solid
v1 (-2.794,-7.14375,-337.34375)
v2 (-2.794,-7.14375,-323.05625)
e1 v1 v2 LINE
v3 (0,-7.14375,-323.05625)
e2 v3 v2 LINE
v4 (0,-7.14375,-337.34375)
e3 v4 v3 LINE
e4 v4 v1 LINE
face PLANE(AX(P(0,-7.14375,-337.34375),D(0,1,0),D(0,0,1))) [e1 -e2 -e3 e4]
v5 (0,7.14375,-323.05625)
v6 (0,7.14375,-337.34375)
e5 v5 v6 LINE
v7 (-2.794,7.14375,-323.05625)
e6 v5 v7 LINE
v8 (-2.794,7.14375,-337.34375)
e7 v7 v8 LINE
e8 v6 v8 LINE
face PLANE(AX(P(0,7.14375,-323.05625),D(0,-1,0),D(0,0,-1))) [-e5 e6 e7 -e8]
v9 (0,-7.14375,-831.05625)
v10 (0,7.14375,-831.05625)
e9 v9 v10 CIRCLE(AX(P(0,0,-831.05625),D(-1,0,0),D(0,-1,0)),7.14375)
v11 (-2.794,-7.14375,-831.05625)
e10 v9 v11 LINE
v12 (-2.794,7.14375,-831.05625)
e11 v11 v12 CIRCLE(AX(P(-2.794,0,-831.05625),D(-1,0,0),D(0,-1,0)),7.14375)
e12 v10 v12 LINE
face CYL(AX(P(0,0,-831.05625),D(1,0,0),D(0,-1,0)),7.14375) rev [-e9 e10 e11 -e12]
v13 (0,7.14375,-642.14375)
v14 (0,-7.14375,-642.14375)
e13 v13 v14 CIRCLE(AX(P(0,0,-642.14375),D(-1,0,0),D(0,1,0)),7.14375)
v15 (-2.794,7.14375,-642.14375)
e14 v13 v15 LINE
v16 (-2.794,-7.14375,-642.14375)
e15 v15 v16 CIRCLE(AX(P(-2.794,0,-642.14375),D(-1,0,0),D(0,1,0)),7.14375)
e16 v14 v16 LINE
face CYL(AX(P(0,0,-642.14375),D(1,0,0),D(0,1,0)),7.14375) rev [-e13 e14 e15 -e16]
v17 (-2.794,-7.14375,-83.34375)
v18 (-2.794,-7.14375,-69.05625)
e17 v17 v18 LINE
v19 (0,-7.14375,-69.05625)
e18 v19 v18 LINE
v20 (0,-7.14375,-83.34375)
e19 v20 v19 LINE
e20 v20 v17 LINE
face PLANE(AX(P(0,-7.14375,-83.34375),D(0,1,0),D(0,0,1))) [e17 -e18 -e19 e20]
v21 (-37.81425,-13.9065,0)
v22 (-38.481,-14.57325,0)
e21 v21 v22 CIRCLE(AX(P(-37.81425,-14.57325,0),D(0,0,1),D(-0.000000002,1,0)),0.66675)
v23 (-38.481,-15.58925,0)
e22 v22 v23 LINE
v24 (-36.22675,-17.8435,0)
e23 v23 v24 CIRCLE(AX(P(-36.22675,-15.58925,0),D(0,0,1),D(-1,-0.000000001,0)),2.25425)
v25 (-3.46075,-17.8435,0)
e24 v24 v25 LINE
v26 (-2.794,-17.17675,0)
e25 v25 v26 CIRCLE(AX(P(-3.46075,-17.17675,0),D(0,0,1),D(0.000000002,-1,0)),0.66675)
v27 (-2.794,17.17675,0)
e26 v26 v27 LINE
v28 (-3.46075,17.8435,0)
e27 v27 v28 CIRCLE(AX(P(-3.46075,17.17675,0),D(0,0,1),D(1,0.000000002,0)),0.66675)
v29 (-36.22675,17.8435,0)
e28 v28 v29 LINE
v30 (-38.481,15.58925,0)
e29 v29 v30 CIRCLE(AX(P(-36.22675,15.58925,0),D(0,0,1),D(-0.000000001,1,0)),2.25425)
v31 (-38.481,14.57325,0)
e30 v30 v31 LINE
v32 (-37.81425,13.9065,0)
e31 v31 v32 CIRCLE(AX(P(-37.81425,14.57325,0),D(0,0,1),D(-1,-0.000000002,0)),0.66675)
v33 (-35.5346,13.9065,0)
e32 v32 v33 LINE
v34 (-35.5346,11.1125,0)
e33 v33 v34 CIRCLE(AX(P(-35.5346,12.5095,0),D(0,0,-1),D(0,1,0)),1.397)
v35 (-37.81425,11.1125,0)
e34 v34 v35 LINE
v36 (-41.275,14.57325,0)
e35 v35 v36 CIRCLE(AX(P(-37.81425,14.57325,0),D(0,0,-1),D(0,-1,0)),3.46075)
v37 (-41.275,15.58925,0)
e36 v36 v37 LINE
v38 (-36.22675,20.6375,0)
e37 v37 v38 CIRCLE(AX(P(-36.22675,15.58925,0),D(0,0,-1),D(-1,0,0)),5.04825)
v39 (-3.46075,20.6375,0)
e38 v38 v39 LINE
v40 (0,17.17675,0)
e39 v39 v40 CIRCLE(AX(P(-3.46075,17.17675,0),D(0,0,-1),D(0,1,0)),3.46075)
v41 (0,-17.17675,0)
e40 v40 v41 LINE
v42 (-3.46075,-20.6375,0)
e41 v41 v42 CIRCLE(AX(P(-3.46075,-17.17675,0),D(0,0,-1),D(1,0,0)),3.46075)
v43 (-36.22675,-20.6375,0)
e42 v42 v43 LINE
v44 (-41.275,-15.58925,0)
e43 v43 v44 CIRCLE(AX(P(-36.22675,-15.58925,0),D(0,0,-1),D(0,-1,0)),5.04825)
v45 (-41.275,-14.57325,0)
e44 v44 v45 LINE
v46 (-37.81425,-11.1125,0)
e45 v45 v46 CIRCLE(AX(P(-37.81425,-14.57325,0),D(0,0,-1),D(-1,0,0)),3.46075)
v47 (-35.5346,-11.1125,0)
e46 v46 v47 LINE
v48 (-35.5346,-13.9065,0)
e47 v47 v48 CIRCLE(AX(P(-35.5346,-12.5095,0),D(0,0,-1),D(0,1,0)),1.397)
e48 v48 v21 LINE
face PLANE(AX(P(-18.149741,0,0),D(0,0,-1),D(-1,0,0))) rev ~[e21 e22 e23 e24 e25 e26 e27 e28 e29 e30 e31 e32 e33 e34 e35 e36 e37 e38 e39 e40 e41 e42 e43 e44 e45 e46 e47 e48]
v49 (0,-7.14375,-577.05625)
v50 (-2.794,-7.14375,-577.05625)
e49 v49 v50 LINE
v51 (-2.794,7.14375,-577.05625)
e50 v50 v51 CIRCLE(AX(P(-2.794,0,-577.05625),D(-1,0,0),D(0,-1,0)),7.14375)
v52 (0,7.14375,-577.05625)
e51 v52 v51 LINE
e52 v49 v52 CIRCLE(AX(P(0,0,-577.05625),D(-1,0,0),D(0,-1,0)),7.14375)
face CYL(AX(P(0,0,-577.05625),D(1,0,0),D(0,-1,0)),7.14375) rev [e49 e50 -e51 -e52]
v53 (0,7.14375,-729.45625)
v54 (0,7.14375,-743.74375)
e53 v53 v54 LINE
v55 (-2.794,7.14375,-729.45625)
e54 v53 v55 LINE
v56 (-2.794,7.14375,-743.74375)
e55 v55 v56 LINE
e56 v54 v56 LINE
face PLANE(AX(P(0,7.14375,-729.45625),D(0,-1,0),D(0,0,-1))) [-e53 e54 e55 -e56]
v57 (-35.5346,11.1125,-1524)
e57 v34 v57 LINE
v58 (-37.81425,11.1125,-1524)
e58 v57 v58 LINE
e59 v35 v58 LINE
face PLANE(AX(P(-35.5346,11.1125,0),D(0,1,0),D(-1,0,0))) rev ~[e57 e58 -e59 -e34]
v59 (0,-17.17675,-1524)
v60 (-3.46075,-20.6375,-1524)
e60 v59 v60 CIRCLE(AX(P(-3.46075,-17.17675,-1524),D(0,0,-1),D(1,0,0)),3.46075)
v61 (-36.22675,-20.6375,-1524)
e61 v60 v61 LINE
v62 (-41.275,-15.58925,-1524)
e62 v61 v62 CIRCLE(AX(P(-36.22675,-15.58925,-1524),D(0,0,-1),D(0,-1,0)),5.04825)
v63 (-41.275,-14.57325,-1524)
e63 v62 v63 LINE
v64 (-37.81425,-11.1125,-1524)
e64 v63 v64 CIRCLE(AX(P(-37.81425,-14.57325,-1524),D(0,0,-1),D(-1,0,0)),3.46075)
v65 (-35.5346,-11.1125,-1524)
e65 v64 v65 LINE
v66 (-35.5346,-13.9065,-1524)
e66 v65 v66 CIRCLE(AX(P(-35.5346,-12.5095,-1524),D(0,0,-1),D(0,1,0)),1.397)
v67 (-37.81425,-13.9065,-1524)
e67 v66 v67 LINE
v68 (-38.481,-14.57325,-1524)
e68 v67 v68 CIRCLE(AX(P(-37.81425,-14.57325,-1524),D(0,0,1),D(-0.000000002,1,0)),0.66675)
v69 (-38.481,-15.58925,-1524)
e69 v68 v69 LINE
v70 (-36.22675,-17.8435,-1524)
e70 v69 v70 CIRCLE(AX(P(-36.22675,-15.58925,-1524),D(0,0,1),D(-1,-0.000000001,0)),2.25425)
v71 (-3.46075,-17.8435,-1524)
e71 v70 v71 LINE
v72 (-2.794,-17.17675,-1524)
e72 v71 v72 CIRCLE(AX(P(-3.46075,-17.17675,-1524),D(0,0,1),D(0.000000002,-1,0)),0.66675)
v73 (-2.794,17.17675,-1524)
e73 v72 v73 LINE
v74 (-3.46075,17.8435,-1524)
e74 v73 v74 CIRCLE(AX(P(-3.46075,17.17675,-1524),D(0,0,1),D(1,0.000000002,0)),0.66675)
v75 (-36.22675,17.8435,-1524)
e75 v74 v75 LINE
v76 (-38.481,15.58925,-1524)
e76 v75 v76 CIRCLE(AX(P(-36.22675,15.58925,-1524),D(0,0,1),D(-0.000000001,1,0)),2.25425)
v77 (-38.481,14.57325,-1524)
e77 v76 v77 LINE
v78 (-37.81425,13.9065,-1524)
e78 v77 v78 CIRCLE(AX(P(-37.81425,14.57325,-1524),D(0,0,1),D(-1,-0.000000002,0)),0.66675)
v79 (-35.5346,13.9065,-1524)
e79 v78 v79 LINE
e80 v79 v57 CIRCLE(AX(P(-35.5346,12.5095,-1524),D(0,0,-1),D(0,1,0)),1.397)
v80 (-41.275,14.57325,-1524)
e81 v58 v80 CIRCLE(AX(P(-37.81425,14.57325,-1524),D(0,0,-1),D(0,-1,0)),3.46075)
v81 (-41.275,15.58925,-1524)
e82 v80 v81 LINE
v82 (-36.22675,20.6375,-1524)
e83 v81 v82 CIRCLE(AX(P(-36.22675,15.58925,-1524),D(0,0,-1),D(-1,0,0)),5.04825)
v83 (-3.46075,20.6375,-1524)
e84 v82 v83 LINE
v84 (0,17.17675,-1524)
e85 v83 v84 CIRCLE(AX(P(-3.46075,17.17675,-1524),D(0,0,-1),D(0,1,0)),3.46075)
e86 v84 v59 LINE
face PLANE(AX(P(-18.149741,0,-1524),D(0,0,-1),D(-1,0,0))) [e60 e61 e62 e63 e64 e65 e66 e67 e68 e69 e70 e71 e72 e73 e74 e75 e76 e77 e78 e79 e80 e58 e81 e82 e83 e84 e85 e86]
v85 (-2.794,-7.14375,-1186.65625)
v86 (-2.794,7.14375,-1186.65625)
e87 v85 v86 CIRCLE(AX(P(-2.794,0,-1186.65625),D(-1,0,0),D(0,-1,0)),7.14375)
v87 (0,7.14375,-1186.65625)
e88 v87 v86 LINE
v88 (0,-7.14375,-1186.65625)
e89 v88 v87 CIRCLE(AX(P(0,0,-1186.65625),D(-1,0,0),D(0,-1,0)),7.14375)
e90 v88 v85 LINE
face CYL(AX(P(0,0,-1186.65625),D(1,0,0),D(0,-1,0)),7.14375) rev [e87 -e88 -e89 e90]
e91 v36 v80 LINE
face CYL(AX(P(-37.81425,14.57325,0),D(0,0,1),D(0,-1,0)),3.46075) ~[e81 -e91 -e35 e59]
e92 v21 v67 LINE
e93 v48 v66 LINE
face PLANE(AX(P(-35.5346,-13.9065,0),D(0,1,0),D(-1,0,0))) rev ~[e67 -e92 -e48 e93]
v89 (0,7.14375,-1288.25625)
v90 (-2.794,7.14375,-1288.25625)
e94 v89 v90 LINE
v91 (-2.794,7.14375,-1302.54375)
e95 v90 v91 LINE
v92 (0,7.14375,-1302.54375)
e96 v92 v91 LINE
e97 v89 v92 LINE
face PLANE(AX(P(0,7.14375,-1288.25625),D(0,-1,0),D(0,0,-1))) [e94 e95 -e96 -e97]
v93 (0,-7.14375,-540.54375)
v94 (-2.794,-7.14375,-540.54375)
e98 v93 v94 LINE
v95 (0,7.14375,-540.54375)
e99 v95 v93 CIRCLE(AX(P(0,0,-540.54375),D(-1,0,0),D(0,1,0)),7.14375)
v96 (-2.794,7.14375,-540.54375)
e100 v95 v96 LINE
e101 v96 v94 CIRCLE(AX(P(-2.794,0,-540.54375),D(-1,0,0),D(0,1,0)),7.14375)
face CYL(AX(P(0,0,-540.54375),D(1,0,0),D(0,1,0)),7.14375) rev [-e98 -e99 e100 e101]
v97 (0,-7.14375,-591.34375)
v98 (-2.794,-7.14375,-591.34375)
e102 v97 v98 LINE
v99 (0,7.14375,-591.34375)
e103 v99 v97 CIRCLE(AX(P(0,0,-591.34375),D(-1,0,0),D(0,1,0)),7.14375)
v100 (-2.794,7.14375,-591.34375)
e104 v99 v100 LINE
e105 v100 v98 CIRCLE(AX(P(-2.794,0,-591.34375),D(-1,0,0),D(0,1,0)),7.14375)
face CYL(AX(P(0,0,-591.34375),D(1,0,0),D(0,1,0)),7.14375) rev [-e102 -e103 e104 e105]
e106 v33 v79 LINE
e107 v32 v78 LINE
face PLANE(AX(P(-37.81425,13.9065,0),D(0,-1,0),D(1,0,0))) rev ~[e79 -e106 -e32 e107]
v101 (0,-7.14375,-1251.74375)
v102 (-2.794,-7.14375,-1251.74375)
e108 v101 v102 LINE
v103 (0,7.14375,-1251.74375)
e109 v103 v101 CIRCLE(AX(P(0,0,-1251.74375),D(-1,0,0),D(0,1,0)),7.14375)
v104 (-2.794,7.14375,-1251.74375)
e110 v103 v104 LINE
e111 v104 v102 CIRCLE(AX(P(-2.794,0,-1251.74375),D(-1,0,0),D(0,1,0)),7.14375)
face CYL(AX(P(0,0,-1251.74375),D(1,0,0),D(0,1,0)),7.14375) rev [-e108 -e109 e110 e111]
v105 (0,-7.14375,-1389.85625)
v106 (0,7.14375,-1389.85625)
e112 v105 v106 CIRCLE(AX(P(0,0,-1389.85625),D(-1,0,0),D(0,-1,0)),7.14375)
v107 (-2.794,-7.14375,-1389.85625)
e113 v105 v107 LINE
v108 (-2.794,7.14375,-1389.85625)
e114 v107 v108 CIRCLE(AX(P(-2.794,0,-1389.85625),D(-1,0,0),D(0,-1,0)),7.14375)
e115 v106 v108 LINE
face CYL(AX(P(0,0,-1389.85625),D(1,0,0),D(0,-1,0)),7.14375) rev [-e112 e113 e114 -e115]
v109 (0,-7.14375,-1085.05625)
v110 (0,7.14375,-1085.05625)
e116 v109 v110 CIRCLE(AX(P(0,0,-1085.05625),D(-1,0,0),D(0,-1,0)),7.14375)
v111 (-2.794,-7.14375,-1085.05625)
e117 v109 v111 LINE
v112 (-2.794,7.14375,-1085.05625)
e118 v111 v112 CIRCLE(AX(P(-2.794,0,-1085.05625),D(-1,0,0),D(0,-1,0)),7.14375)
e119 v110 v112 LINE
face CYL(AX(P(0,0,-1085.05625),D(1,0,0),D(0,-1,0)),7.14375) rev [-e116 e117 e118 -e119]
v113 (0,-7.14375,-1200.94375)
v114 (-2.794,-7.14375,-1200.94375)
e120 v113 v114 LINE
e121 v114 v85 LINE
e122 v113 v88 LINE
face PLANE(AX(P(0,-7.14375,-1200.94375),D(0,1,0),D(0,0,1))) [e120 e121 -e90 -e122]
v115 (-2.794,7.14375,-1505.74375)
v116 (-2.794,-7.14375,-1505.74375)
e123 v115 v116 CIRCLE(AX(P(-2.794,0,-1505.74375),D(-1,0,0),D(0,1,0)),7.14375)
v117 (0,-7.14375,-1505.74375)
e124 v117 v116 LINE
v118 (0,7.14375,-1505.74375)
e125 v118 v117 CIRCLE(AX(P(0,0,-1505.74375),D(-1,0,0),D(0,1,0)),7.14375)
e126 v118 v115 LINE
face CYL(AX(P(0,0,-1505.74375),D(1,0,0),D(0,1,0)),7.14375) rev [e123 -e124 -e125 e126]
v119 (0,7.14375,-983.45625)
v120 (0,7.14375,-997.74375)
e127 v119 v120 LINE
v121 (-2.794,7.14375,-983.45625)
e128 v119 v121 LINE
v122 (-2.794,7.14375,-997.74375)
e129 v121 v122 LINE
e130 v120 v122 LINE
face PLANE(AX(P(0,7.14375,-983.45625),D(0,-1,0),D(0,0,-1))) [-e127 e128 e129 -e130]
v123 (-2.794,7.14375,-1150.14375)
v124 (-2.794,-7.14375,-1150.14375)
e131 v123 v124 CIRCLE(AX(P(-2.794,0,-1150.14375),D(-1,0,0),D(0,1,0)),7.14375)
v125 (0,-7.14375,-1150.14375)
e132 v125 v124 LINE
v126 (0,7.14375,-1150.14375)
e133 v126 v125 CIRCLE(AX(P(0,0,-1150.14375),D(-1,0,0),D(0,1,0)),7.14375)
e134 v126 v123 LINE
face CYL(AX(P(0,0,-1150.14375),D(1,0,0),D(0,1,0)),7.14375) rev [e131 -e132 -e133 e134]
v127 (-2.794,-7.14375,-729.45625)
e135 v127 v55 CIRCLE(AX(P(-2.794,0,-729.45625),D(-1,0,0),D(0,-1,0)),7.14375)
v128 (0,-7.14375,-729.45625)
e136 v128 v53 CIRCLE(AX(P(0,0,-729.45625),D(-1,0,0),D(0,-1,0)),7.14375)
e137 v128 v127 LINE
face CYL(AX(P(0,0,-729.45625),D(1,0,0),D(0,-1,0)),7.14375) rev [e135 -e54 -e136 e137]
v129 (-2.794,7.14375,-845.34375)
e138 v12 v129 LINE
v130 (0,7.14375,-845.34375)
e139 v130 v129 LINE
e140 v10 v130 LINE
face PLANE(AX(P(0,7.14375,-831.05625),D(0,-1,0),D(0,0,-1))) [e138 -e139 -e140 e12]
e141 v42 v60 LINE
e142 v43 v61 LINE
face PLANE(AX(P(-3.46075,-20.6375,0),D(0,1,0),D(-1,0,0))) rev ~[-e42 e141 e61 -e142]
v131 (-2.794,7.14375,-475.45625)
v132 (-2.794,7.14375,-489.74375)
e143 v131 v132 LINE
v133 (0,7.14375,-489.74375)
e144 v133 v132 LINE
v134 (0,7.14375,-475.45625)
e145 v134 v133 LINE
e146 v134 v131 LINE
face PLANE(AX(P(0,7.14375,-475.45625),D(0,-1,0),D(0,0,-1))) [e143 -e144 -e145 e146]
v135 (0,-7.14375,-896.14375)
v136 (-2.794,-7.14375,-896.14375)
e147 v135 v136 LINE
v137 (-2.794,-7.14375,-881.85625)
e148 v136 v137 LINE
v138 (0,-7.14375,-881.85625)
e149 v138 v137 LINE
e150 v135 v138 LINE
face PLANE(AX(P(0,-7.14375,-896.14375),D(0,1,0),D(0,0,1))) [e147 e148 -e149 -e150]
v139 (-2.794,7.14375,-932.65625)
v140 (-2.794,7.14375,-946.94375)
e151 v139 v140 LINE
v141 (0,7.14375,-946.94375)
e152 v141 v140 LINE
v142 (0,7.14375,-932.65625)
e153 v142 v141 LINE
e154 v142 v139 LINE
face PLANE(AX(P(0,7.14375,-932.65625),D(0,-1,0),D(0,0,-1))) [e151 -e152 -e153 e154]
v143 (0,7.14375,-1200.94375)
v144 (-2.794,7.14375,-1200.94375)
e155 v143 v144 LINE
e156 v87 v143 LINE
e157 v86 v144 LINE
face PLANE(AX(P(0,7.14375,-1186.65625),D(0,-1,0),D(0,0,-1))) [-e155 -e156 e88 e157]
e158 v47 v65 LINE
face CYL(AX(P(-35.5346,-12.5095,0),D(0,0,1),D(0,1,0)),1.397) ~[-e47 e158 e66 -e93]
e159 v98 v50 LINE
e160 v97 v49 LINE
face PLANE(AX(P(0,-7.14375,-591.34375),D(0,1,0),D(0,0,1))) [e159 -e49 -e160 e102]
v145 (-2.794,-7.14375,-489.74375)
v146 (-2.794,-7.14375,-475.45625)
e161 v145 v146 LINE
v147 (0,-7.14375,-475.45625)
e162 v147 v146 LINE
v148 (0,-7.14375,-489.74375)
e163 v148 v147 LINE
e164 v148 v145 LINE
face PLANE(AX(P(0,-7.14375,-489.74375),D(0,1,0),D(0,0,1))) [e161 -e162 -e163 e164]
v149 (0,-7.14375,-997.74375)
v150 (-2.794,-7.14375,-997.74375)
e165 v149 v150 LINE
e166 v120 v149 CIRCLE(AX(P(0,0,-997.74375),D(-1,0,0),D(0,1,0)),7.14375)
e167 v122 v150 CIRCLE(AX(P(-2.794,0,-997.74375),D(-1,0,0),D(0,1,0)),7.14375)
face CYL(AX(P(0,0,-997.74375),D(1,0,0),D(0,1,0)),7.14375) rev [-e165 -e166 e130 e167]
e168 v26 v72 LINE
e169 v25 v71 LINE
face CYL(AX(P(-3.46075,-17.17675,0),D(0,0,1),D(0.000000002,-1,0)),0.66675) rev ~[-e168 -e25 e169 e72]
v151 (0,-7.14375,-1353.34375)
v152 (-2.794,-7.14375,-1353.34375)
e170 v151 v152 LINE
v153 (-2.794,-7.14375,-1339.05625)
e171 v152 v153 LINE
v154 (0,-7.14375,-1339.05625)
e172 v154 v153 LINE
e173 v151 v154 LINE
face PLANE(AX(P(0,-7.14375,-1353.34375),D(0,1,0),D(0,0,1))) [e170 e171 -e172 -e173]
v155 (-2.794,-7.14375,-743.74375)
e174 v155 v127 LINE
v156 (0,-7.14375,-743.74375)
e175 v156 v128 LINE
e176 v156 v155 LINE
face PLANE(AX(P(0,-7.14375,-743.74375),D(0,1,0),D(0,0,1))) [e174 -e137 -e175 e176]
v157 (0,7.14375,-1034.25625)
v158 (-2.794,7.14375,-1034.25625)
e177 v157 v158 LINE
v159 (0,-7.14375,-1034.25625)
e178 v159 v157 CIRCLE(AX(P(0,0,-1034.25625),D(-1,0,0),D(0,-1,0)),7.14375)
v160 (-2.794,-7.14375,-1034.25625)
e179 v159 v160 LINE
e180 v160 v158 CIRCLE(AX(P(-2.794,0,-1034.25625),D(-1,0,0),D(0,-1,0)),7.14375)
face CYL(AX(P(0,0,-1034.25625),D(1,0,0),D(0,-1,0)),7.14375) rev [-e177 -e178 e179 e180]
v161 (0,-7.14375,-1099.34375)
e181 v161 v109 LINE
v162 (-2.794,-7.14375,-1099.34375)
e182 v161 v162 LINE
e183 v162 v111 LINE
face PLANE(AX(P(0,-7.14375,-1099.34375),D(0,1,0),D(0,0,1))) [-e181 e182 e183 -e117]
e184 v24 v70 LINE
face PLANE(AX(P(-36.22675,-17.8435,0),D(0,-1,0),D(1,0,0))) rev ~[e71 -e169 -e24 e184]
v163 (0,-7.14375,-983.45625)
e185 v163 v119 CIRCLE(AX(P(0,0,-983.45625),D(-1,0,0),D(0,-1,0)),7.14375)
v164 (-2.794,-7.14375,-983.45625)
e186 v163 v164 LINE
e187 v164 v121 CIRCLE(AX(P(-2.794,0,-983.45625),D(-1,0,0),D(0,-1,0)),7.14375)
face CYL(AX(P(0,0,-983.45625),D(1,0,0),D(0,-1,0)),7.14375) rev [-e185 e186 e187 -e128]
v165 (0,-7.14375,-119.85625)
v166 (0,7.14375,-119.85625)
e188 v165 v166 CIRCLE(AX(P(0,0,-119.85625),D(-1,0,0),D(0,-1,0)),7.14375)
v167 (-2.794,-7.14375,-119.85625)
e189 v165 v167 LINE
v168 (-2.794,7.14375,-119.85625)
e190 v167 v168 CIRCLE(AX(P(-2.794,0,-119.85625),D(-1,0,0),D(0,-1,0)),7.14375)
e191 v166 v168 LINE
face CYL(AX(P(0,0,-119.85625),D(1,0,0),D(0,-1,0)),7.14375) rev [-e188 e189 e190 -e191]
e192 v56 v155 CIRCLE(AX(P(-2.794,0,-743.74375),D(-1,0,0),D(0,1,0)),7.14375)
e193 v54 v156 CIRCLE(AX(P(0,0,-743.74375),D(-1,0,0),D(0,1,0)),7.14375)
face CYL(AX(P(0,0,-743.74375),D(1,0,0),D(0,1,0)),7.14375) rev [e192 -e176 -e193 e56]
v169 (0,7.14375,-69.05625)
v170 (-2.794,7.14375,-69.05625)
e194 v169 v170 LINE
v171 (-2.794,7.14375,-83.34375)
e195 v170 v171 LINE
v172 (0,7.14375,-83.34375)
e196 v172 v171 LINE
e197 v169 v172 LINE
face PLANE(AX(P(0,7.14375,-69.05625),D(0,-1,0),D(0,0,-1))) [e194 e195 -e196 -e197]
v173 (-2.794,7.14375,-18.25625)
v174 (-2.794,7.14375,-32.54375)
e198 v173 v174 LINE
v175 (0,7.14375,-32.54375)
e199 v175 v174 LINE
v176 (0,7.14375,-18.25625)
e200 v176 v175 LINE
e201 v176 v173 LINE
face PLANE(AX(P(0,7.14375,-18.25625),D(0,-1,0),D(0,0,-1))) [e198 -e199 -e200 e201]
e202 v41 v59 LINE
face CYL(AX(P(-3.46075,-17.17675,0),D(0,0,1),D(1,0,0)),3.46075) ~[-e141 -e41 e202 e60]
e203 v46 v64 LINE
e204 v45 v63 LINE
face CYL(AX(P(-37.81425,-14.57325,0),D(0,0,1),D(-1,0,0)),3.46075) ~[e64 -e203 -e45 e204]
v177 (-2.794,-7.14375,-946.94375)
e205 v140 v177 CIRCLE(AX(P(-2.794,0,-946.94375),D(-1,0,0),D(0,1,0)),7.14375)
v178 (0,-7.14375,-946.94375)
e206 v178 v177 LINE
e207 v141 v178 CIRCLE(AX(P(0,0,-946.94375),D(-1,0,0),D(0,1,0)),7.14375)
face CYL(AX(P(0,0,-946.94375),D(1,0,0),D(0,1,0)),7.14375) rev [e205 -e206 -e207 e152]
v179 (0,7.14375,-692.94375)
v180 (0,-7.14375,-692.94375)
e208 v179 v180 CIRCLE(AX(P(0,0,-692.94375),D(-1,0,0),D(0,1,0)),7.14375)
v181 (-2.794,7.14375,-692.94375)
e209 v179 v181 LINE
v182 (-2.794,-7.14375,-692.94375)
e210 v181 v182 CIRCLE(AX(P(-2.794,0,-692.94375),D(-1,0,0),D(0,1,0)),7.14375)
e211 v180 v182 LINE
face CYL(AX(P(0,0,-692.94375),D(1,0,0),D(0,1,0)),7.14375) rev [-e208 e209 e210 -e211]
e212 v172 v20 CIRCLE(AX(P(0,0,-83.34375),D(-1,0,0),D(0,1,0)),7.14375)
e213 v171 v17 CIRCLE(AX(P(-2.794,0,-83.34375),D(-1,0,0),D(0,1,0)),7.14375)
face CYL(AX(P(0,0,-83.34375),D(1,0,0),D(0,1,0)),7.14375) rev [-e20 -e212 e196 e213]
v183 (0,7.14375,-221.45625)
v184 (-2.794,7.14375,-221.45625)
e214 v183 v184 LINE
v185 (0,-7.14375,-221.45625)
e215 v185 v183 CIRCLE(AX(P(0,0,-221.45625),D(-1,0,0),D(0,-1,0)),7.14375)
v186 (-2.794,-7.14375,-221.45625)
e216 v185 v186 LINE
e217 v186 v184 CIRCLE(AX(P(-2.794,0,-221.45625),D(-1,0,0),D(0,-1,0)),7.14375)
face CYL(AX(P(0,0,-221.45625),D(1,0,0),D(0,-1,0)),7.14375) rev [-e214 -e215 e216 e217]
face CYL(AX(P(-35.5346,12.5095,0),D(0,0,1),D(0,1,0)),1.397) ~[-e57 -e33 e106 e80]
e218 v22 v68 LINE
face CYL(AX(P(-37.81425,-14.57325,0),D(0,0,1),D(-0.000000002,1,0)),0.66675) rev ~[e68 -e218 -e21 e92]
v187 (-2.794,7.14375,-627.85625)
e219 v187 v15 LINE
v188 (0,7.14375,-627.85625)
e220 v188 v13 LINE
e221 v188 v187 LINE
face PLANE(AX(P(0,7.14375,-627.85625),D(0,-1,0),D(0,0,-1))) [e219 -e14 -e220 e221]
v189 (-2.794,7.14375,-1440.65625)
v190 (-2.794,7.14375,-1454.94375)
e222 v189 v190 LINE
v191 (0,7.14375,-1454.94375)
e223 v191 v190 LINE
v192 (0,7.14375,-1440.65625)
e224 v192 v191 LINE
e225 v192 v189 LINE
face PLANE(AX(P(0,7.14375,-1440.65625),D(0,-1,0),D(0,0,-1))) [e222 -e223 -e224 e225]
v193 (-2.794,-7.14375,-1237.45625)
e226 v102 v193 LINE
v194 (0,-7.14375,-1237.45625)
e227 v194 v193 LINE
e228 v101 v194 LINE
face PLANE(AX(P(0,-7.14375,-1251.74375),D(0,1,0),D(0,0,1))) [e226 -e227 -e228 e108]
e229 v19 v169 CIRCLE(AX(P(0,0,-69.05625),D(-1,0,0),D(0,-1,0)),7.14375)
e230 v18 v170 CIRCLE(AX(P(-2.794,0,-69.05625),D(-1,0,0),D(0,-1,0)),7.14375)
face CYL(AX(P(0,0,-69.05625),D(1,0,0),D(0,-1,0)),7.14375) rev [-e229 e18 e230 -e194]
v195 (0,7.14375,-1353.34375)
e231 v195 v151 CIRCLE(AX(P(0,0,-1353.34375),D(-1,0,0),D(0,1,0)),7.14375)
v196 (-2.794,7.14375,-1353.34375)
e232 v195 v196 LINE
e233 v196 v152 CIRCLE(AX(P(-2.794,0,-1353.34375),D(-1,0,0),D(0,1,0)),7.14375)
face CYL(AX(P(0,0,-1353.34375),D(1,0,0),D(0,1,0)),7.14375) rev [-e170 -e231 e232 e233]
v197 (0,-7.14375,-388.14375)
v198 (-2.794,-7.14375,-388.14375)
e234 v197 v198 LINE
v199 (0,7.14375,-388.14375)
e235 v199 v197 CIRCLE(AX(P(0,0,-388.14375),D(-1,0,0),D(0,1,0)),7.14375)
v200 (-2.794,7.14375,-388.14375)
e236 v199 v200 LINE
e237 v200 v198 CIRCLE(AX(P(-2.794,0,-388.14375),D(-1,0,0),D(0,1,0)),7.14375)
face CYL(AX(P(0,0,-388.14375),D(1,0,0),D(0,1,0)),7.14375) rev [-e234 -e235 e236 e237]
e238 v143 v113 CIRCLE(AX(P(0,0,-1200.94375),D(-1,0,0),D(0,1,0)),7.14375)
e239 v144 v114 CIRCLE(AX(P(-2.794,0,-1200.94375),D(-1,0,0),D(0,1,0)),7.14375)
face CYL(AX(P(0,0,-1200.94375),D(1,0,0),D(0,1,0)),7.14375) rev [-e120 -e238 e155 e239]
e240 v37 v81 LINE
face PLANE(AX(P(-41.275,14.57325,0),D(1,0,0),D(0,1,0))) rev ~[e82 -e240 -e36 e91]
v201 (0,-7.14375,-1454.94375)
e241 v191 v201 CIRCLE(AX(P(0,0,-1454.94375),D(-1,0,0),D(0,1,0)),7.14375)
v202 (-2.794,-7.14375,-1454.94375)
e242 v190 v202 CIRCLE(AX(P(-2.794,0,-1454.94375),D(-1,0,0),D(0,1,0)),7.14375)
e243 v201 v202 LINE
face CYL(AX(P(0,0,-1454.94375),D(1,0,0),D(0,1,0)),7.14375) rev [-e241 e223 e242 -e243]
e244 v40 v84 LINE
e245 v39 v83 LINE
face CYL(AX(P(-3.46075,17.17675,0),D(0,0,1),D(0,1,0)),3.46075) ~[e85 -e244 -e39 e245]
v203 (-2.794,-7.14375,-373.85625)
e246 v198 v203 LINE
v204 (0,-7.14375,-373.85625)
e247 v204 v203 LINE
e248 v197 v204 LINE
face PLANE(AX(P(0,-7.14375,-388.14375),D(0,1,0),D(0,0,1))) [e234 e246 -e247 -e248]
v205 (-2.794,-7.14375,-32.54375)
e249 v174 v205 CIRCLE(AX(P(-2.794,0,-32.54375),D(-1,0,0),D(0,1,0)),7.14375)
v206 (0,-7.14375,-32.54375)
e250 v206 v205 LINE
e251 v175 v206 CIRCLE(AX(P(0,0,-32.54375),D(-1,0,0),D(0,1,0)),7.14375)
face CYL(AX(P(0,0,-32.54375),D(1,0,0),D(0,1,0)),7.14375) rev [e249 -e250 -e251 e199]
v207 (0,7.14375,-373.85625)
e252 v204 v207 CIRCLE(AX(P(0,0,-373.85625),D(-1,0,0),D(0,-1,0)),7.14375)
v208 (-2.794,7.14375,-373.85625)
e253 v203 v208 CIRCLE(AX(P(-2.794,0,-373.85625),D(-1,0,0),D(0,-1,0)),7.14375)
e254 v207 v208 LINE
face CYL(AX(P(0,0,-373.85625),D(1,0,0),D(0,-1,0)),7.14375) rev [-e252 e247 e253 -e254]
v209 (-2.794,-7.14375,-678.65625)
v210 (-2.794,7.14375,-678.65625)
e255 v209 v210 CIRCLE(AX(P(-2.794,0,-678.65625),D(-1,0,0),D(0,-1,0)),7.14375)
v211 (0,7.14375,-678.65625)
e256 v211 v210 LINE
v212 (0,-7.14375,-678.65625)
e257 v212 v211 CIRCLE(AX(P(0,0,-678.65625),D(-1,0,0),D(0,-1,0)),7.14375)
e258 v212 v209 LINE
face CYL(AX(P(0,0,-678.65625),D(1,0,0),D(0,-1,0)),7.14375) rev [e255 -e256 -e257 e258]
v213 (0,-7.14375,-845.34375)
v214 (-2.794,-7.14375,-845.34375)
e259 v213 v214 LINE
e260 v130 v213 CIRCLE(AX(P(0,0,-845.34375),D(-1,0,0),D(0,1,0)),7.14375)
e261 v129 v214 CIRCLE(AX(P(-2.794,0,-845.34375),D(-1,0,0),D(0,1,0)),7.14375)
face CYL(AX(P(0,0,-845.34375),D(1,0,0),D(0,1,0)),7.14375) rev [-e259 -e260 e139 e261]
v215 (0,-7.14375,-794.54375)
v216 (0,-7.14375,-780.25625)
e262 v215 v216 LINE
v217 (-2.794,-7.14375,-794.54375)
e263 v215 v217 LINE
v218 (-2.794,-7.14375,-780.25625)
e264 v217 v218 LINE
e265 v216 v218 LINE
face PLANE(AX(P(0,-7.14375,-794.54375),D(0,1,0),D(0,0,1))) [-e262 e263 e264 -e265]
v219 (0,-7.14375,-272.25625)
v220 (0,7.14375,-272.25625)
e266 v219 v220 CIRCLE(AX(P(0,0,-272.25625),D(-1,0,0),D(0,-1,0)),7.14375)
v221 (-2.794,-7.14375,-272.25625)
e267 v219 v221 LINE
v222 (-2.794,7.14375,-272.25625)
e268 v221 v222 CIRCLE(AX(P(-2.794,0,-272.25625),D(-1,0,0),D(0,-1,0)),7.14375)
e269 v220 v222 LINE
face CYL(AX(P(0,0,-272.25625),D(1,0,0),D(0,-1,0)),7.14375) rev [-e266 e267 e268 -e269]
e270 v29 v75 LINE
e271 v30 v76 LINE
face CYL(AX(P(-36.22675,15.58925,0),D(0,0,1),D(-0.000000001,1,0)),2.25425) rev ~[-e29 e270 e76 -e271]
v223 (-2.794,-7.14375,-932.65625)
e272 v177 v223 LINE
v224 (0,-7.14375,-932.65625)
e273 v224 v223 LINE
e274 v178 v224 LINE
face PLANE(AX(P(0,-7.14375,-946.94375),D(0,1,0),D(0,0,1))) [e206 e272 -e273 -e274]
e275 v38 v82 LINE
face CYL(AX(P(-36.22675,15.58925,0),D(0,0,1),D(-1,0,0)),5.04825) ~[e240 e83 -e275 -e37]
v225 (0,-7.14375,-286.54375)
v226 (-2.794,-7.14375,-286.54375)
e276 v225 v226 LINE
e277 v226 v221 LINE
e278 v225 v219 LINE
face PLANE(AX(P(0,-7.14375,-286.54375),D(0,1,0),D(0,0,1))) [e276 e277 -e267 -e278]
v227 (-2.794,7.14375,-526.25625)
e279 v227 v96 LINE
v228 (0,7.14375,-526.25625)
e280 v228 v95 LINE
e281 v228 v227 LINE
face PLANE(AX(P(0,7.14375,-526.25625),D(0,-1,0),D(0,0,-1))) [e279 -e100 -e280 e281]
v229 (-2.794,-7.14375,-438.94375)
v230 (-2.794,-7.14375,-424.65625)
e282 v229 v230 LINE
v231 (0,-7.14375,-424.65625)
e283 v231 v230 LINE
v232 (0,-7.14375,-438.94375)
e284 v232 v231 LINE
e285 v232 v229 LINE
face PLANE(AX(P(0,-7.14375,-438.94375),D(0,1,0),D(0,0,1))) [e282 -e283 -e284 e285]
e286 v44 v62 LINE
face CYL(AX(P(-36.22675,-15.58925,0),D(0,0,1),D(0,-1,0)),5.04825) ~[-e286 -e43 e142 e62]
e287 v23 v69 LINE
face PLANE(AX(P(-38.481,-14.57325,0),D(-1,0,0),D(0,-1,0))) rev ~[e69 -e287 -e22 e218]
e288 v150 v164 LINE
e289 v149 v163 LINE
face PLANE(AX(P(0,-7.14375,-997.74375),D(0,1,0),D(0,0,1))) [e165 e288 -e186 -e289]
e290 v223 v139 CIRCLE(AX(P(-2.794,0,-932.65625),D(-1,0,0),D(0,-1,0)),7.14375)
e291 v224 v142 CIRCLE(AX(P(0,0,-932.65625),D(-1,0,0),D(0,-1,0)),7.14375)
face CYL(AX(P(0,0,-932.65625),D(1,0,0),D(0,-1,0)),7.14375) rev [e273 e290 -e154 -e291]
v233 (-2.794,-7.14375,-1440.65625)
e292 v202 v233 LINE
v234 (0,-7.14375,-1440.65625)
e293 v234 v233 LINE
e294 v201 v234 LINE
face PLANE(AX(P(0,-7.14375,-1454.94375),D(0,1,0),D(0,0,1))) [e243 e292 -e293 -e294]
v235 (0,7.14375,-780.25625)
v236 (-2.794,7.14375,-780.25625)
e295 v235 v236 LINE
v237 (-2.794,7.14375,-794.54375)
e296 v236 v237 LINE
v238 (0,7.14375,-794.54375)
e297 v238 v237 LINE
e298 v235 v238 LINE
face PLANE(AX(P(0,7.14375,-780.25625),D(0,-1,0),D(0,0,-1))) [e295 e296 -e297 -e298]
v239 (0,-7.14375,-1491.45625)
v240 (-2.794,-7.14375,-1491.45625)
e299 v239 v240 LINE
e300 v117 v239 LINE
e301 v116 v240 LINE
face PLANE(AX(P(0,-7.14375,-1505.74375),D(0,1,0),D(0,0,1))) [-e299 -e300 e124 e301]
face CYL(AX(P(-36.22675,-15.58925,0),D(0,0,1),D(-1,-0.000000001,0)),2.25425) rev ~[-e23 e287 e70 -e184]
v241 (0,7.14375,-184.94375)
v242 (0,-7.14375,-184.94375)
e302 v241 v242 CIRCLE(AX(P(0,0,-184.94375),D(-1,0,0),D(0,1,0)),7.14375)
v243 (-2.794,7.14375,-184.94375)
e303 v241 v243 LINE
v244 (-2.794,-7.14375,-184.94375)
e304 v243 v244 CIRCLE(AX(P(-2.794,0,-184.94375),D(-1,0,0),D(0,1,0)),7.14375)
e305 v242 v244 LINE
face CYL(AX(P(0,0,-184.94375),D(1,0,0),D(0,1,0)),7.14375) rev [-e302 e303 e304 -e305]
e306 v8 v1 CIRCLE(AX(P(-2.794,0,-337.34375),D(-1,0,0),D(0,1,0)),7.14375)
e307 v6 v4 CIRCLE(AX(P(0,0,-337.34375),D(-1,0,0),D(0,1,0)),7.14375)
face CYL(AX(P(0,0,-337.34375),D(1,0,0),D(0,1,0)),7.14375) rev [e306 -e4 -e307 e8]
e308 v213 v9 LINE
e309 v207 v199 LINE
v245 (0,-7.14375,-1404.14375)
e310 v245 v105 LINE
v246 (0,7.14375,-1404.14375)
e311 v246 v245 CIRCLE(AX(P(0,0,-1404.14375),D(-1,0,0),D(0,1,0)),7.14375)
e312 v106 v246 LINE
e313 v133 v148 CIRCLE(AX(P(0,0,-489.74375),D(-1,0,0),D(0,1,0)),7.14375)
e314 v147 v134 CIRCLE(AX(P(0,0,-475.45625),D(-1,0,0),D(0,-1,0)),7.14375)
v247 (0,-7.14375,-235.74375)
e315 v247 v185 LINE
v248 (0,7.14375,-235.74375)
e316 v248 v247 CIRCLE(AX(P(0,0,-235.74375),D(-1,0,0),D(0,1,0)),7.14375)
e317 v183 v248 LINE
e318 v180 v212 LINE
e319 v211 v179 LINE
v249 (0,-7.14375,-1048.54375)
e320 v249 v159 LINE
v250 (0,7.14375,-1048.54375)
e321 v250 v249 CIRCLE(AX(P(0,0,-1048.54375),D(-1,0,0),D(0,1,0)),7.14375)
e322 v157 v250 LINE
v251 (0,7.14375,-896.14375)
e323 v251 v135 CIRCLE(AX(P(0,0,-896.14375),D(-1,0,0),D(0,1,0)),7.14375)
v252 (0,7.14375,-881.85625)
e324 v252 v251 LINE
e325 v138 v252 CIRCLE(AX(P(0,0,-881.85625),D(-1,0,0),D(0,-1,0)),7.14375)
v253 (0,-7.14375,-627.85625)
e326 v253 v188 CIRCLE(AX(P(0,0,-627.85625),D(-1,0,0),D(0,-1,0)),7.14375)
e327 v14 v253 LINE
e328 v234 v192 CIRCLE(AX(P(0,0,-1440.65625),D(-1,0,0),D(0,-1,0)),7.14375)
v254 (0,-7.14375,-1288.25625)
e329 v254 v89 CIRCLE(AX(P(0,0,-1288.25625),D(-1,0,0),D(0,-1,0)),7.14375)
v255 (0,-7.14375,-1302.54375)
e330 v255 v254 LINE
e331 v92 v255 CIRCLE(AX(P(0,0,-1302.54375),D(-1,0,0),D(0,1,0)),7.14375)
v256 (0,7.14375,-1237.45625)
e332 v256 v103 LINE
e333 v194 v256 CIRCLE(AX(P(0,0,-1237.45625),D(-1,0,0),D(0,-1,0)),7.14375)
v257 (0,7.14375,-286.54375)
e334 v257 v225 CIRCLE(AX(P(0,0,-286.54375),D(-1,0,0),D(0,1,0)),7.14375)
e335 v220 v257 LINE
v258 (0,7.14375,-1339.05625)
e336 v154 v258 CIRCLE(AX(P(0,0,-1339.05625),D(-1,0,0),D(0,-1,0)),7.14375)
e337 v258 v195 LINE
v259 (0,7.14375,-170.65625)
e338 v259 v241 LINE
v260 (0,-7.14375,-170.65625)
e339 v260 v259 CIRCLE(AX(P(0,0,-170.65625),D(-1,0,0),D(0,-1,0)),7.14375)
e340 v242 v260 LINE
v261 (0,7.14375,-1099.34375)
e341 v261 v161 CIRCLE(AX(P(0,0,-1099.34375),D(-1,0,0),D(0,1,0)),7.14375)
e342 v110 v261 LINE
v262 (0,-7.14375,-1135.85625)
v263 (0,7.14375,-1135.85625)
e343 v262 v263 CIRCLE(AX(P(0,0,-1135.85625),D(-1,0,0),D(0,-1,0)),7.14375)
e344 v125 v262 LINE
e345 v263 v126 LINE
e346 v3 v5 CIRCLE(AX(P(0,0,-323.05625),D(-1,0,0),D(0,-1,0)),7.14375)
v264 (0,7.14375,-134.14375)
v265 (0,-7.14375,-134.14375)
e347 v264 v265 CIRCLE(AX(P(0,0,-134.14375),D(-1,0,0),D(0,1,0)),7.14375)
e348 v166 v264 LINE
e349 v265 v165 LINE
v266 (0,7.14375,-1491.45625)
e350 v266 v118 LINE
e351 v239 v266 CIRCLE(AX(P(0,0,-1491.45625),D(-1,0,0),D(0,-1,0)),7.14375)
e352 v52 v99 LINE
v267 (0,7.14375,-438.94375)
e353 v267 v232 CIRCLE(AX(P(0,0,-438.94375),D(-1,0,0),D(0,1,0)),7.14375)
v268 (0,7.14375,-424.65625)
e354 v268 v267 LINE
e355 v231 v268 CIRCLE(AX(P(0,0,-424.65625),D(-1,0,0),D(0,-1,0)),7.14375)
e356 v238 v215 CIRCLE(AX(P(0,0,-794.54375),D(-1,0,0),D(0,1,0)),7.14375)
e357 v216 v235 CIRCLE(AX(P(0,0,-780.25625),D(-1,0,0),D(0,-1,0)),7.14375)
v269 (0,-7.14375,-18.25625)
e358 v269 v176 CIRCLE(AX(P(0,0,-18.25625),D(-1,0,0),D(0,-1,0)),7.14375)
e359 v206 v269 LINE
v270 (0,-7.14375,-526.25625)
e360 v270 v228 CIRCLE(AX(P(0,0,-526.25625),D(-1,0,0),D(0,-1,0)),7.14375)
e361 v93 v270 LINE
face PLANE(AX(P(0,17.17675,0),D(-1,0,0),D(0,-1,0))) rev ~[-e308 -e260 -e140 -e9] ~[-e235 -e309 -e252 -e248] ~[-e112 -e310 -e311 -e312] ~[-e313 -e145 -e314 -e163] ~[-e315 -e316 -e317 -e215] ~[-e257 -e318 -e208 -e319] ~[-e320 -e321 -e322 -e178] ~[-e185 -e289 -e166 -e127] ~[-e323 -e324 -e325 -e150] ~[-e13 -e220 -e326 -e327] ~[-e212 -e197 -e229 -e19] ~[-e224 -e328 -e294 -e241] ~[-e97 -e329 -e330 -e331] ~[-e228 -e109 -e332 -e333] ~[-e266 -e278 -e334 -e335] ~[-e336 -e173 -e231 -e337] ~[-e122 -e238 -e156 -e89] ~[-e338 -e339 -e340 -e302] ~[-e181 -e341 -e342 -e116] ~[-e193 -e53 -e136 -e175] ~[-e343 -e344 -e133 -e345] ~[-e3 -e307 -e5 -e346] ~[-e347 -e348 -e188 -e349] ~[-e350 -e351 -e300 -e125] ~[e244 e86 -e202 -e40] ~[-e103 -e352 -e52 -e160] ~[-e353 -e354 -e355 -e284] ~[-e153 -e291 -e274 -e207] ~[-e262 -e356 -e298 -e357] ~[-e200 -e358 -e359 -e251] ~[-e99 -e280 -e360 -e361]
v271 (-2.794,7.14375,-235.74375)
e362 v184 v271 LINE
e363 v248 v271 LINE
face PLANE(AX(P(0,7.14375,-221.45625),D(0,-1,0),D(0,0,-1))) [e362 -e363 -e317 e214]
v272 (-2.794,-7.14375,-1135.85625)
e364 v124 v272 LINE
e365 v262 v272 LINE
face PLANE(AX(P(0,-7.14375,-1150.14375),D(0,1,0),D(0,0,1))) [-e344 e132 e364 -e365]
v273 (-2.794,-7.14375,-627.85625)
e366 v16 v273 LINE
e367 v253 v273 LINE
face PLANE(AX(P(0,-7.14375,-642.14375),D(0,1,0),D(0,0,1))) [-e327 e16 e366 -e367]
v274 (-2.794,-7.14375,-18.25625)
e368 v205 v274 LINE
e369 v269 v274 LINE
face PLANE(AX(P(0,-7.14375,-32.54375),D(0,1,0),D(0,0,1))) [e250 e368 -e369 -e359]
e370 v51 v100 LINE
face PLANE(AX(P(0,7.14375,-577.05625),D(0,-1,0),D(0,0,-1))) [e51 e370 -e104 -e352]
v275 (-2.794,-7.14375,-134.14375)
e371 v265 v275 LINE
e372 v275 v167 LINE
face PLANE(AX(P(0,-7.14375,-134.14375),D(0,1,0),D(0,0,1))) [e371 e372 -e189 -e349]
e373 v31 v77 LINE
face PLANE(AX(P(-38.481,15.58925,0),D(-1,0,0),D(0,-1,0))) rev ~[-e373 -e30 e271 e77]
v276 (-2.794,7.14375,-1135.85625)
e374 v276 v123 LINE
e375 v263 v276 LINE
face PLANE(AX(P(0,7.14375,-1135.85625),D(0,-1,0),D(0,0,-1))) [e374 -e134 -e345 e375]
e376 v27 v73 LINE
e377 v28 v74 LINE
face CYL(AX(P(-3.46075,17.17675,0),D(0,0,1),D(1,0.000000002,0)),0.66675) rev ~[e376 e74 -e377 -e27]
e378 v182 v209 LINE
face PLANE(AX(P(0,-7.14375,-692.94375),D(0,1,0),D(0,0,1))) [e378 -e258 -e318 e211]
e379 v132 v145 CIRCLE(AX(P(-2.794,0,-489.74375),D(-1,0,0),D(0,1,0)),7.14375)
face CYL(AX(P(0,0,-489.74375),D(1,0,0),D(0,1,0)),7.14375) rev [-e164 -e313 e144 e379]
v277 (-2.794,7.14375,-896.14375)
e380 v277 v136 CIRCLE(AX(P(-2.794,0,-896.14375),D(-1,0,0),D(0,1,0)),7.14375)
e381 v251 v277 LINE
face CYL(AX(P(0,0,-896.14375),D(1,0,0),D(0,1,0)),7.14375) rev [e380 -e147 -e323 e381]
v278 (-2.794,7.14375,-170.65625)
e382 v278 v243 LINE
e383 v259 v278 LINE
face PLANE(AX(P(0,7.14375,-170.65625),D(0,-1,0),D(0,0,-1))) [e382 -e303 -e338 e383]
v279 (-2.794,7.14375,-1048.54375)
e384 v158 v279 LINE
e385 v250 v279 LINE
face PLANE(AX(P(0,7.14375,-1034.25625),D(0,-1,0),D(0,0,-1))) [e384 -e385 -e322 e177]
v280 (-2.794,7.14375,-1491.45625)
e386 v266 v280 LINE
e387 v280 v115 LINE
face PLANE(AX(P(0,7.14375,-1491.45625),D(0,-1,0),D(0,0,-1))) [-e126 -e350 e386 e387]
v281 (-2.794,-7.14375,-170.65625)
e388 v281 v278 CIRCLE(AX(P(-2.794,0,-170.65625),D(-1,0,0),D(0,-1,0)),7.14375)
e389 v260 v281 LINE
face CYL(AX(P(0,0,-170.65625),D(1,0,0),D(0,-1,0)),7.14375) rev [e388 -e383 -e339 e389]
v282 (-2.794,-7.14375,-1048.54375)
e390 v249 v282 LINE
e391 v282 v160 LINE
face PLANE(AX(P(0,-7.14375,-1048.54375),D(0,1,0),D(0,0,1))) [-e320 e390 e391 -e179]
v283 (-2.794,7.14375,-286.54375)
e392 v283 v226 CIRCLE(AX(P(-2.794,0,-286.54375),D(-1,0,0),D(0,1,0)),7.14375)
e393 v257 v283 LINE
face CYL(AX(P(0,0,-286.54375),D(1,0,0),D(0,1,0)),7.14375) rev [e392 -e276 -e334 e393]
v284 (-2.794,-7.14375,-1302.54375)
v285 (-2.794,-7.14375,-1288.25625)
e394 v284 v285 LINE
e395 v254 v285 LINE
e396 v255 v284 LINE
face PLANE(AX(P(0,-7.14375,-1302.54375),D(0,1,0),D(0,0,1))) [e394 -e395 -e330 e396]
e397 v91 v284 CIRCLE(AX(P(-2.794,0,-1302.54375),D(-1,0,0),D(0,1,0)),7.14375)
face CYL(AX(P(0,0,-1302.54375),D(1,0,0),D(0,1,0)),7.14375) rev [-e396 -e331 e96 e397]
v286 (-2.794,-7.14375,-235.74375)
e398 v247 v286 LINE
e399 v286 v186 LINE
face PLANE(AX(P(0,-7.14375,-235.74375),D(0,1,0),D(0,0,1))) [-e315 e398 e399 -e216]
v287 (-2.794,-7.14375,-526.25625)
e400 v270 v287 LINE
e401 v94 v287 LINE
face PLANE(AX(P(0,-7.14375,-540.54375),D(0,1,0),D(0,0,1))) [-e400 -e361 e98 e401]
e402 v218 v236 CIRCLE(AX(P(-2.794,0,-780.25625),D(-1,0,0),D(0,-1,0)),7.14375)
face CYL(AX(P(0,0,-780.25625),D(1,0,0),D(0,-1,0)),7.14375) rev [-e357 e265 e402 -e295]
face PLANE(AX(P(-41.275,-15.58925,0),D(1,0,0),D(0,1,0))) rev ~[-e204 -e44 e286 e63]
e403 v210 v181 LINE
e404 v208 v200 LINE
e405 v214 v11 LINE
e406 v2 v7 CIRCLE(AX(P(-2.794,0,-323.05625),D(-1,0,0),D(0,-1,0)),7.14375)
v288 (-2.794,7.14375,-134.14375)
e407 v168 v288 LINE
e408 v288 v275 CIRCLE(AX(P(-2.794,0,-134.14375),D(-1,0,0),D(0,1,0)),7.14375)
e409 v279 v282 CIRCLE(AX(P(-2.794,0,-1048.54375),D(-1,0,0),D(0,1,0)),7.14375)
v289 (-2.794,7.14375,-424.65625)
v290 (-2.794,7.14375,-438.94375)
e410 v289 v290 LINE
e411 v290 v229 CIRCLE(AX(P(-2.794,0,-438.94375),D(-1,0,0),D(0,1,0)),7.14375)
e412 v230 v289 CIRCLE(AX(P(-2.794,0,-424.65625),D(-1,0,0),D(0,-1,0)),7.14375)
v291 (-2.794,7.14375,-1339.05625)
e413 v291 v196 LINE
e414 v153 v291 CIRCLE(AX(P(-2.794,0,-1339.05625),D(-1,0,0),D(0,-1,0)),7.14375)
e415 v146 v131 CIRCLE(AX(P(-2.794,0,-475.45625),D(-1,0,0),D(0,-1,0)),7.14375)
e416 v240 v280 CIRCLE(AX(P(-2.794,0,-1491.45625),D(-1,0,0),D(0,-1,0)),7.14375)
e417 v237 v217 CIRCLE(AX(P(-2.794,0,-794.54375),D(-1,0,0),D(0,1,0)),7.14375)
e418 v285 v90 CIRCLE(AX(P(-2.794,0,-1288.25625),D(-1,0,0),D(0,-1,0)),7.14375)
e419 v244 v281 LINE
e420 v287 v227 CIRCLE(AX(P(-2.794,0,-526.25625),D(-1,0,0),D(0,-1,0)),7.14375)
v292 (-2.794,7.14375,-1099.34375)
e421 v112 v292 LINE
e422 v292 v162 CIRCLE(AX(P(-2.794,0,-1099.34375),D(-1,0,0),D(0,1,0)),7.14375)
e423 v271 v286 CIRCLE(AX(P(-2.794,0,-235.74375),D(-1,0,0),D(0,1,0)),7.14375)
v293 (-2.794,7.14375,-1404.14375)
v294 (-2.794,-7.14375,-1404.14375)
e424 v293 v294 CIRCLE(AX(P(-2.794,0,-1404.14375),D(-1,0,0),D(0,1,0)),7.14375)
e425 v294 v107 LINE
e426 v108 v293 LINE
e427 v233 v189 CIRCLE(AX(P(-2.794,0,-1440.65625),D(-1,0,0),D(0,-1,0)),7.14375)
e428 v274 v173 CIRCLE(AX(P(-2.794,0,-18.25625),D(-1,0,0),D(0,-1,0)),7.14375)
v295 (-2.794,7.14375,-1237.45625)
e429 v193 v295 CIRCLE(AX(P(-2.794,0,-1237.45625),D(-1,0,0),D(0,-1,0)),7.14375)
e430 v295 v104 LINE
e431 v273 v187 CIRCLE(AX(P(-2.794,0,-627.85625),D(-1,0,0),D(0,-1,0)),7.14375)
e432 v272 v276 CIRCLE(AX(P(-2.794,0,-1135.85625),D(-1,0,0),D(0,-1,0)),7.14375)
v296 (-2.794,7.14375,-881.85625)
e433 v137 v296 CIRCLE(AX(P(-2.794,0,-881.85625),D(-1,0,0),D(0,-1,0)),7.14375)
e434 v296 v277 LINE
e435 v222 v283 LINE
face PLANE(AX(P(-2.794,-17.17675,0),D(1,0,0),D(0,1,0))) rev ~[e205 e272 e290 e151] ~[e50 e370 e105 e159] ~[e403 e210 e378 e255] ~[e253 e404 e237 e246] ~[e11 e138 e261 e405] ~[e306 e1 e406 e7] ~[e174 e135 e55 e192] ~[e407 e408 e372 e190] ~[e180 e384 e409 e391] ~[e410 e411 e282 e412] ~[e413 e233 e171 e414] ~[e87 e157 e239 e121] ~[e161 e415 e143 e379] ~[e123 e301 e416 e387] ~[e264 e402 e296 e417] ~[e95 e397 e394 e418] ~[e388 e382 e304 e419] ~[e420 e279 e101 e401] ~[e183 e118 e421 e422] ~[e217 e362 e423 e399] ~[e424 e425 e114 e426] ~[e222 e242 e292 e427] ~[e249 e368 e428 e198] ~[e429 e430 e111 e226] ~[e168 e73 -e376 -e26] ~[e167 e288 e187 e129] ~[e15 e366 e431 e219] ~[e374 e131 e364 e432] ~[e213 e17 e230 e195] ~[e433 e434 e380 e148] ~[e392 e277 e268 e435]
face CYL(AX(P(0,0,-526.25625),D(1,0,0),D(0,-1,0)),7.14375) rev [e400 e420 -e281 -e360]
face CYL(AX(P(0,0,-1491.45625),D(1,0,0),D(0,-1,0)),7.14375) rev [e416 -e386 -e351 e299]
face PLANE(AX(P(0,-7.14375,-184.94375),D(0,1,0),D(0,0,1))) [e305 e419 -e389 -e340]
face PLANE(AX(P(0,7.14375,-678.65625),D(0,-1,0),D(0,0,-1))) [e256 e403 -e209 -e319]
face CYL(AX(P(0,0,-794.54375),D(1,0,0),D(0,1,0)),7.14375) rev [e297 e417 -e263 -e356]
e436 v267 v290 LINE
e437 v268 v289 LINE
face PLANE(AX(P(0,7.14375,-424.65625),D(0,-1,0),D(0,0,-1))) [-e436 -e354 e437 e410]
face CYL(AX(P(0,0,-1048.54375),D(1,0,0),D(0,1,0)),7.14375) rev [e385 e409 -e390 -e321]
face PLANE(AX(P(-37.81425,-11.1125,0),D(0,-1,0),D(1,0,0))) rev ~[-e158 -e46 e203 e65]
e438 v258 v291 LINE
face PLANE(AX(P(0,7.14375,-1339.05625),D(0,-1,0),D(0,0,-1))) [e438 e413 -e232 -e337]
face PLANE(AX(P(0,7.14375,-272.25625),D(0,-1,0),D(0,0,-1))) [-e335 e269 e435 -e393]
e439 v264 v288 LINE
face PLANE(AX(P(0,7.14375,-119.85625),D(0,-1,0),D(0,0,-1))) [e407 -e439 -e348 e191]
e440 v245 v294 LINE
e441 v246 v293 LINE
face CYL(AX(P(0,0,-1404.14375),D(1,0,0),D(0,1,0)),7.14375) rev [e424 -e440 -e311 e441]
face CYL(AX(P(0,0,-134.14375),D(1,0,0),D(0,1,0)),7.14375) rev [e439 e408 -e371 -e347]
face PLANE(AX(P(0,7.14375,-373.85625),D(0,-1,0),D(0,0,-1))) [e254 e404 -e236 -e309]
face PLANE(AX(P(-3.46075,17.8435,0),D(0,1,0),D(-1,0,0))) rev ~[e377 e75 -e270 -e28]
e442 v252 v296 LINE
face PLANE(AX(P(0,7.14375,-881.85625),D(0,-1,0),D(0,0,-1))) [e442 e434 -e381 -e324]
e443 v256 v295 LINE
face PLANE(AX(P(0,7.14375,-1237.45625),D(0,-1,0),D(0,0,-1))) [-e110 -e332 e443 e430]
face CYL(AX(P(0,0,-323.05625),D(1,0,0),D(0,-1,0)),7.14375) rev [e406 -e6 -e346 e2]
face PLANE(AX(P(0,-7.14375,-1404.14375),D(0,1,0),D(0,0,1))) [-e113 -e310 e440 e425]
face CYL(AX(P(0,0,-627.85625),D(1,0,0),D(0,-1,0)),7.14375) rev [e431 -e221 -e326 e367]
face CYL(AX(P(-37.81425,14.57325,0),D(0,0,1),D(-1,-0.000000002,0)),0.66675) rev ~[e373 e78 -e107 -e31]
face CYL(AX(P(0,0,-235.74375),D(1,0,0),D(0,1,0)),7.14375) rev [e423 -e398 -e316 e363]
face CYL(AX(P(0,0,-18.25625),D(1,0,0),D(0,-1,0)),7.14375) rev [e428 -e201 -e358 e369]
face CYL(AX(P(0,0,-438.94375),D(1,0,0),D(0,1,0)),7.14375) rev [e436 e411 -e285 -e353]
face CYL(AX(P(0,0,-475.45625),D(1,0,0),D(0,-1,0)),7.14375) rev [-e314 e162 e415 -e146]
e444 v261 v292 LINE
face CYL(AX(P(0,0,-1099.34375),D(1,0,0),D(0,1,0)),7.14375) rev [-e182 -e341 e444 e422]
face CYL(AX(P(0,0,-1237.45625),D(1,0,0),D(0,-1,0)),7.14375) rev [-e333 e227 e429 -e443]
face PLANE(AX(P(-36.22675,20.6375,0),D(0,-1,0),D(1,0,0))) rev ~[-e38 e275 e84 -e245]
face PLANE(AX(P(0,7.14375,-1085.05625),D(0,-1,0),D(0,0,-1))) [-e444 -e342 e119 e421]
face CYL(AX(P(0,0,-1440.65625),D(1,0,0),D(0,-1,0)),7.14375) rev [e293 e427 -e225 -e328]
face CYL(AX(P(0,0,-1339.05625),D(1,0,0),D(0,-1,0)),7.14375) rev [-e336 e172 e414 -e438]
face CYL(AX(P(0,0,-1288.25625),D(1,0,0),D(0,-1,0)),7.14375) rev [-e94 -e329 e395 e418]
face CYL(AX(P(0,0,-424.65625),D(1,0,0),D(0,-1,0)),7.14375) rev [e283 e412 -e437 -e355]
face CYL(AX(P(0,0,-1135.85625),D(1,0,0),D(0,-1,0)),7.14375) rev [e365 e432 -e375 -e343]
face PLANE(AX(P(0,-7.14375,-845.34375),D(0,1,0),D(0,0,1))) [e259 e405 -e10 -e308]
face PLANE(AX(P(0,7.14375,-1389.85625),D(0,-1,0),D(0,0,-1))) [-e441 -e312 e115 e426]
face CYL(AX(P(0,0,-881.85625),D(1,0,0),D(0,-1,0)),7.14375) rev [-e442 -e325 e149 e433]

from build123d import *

# Parameters (mm, degrees)
BOSS_EXTRUDE1_DEPTH = 1524
CUT_EXTRUDE1_DEPTH  = 2.794
LPATTERN1_COUNT     = 30
LPATTERN1_PITCH     = 50.8


with BuildPart() as part:
    # Sketch1 → Boss-Extrude1 (new body)
    with BuildSketch(Plane.XY):
        with BuildLine():
            Line((-36.22675, 20.6375), (-3.46075, 20.6375))
            ThreePointArc((-3.46075, 20.6375), (-1.013630207, 19.623869793), (0, 17.17675))
            Line((0, 17.17675), (0, -17.17675))
            ThreePointArc((0, -17.17675), (-1.013630207, -19.623869793), (-3.46075, -20.6375))
            Line((-3.46075, -20.6375), (-36.22675, -20.6375))
            ThreePointArc((-36.22675, -20.6375), (-39.796401808, -19.158901808), (-41.275, -15.58925))
            Line((-41.275, -15.58925), (-41.275, -14.57325))
            ThreePointArc((-41.275, -14.57325), (-40.261369793, -12.126130207), (-37.81425, -11.1125))
            Line((-37.81425, -11.1125), (-35.5346, -11.1125))
            ThreePointArc((-35.5346, -11.1125), (-34.1376, -12.5095), (-35.5346, -13.9065))
            Line((-35.5346, -13.9065), (-37.81425, -13.9065))
            ThreePointArc((-37.81425, -13.9065), (-38.285713446, -14.101786554), (-38.481, -14.57325))
            Line((-38.481, -14.57325), (-38.481, -15.58925))
            ThreePointArc((-38.481, -15.58925), (-37.820745461, -17.183245461), (-36.22675, -17.8435))
            Line((-36.22675, -17.8435), (-3.46075, -17.8435))
            ThreePointArc((-3.46075, -17.8435), (-2.989286554, -17.648213446), (-2.794, -17.17675))
            Line((-2.794, -17.17675), (-2.794, 17.17675))
            ThreePointArc((-2.794, 17.17675), (-2.989286554, 17.648213446), (-3.46075, 17.8435))
            Line((-3.46075, 17.8435), (-36.22675, 17.8435))
            ThreePointArc((-36.22675, 17.8435), (-37.820745461, 17.183245461), (-38.481, 15.58925))
            Line((-38.481, 15.58925), (-38.481, 14.57325))
            ThreePointArc((-38.481, 14.57325), (-38.285713446, 14.101786554), (-37.81425, 13.9065))
            Line((-37.81425, 13.9065), (-35.5346, 13.9065))
            ThreePointArc((-35.5346, 13.9065), (-34.1376, 12.5095), (-35.5346, 11.1125))
            Line((-35.5346, 11.1125), (-37.81425, 11.1125))
            ThreePointArc((-37.81425, 11.1125), (-40.261369793, 12.126130207), (-41.275, 14.57325))
            Line((-41.275, 14.57325), (-41.275, 15.58925))
            ThreePointArc((-41.275, 15.58925), (-39.796401808, 19.158901808), (-36.22675, 20.6375))
        make_face()
    extrude(amount=-BOSS_EXTRUDE1_DEPTH)

    # Sketch2 → Cut-Extrude1 (cut)
    with BuildSketch(Plane(origin=(0, 0, 0), x_dir=(0, 0, -1), z_dir=(1, 0, 0))):
        with BuildLine():
            Line((18.25625, 7.14375), (32.54375, 7.14375))
            ThreePointArc((32.54375, 7.14375), (39.6875, 0), (32.54375, -7.14375))
            Line((32.54375, -7.14375), (18.25625, -7.14375))
            ThreePointArc((18.25625, -7.14375), (11.1125, 0), (18.25625, 7.14375))
        make_face()
    cut_extrude1 = extrude(amount=-CUT_EXTRUDE1_DEPTH, mode=Mode.SUBTRACT)

    # LPattern1: Cut-Extrude1 ×30
    with Locations(*[(0, 0, -i * LPATTERN1_PITCH) for i in range(1, LPATTERN1_COUNT)]):
        add(cut_extrude1, mode=Mode.SUBTRACT)


solid = part.part
